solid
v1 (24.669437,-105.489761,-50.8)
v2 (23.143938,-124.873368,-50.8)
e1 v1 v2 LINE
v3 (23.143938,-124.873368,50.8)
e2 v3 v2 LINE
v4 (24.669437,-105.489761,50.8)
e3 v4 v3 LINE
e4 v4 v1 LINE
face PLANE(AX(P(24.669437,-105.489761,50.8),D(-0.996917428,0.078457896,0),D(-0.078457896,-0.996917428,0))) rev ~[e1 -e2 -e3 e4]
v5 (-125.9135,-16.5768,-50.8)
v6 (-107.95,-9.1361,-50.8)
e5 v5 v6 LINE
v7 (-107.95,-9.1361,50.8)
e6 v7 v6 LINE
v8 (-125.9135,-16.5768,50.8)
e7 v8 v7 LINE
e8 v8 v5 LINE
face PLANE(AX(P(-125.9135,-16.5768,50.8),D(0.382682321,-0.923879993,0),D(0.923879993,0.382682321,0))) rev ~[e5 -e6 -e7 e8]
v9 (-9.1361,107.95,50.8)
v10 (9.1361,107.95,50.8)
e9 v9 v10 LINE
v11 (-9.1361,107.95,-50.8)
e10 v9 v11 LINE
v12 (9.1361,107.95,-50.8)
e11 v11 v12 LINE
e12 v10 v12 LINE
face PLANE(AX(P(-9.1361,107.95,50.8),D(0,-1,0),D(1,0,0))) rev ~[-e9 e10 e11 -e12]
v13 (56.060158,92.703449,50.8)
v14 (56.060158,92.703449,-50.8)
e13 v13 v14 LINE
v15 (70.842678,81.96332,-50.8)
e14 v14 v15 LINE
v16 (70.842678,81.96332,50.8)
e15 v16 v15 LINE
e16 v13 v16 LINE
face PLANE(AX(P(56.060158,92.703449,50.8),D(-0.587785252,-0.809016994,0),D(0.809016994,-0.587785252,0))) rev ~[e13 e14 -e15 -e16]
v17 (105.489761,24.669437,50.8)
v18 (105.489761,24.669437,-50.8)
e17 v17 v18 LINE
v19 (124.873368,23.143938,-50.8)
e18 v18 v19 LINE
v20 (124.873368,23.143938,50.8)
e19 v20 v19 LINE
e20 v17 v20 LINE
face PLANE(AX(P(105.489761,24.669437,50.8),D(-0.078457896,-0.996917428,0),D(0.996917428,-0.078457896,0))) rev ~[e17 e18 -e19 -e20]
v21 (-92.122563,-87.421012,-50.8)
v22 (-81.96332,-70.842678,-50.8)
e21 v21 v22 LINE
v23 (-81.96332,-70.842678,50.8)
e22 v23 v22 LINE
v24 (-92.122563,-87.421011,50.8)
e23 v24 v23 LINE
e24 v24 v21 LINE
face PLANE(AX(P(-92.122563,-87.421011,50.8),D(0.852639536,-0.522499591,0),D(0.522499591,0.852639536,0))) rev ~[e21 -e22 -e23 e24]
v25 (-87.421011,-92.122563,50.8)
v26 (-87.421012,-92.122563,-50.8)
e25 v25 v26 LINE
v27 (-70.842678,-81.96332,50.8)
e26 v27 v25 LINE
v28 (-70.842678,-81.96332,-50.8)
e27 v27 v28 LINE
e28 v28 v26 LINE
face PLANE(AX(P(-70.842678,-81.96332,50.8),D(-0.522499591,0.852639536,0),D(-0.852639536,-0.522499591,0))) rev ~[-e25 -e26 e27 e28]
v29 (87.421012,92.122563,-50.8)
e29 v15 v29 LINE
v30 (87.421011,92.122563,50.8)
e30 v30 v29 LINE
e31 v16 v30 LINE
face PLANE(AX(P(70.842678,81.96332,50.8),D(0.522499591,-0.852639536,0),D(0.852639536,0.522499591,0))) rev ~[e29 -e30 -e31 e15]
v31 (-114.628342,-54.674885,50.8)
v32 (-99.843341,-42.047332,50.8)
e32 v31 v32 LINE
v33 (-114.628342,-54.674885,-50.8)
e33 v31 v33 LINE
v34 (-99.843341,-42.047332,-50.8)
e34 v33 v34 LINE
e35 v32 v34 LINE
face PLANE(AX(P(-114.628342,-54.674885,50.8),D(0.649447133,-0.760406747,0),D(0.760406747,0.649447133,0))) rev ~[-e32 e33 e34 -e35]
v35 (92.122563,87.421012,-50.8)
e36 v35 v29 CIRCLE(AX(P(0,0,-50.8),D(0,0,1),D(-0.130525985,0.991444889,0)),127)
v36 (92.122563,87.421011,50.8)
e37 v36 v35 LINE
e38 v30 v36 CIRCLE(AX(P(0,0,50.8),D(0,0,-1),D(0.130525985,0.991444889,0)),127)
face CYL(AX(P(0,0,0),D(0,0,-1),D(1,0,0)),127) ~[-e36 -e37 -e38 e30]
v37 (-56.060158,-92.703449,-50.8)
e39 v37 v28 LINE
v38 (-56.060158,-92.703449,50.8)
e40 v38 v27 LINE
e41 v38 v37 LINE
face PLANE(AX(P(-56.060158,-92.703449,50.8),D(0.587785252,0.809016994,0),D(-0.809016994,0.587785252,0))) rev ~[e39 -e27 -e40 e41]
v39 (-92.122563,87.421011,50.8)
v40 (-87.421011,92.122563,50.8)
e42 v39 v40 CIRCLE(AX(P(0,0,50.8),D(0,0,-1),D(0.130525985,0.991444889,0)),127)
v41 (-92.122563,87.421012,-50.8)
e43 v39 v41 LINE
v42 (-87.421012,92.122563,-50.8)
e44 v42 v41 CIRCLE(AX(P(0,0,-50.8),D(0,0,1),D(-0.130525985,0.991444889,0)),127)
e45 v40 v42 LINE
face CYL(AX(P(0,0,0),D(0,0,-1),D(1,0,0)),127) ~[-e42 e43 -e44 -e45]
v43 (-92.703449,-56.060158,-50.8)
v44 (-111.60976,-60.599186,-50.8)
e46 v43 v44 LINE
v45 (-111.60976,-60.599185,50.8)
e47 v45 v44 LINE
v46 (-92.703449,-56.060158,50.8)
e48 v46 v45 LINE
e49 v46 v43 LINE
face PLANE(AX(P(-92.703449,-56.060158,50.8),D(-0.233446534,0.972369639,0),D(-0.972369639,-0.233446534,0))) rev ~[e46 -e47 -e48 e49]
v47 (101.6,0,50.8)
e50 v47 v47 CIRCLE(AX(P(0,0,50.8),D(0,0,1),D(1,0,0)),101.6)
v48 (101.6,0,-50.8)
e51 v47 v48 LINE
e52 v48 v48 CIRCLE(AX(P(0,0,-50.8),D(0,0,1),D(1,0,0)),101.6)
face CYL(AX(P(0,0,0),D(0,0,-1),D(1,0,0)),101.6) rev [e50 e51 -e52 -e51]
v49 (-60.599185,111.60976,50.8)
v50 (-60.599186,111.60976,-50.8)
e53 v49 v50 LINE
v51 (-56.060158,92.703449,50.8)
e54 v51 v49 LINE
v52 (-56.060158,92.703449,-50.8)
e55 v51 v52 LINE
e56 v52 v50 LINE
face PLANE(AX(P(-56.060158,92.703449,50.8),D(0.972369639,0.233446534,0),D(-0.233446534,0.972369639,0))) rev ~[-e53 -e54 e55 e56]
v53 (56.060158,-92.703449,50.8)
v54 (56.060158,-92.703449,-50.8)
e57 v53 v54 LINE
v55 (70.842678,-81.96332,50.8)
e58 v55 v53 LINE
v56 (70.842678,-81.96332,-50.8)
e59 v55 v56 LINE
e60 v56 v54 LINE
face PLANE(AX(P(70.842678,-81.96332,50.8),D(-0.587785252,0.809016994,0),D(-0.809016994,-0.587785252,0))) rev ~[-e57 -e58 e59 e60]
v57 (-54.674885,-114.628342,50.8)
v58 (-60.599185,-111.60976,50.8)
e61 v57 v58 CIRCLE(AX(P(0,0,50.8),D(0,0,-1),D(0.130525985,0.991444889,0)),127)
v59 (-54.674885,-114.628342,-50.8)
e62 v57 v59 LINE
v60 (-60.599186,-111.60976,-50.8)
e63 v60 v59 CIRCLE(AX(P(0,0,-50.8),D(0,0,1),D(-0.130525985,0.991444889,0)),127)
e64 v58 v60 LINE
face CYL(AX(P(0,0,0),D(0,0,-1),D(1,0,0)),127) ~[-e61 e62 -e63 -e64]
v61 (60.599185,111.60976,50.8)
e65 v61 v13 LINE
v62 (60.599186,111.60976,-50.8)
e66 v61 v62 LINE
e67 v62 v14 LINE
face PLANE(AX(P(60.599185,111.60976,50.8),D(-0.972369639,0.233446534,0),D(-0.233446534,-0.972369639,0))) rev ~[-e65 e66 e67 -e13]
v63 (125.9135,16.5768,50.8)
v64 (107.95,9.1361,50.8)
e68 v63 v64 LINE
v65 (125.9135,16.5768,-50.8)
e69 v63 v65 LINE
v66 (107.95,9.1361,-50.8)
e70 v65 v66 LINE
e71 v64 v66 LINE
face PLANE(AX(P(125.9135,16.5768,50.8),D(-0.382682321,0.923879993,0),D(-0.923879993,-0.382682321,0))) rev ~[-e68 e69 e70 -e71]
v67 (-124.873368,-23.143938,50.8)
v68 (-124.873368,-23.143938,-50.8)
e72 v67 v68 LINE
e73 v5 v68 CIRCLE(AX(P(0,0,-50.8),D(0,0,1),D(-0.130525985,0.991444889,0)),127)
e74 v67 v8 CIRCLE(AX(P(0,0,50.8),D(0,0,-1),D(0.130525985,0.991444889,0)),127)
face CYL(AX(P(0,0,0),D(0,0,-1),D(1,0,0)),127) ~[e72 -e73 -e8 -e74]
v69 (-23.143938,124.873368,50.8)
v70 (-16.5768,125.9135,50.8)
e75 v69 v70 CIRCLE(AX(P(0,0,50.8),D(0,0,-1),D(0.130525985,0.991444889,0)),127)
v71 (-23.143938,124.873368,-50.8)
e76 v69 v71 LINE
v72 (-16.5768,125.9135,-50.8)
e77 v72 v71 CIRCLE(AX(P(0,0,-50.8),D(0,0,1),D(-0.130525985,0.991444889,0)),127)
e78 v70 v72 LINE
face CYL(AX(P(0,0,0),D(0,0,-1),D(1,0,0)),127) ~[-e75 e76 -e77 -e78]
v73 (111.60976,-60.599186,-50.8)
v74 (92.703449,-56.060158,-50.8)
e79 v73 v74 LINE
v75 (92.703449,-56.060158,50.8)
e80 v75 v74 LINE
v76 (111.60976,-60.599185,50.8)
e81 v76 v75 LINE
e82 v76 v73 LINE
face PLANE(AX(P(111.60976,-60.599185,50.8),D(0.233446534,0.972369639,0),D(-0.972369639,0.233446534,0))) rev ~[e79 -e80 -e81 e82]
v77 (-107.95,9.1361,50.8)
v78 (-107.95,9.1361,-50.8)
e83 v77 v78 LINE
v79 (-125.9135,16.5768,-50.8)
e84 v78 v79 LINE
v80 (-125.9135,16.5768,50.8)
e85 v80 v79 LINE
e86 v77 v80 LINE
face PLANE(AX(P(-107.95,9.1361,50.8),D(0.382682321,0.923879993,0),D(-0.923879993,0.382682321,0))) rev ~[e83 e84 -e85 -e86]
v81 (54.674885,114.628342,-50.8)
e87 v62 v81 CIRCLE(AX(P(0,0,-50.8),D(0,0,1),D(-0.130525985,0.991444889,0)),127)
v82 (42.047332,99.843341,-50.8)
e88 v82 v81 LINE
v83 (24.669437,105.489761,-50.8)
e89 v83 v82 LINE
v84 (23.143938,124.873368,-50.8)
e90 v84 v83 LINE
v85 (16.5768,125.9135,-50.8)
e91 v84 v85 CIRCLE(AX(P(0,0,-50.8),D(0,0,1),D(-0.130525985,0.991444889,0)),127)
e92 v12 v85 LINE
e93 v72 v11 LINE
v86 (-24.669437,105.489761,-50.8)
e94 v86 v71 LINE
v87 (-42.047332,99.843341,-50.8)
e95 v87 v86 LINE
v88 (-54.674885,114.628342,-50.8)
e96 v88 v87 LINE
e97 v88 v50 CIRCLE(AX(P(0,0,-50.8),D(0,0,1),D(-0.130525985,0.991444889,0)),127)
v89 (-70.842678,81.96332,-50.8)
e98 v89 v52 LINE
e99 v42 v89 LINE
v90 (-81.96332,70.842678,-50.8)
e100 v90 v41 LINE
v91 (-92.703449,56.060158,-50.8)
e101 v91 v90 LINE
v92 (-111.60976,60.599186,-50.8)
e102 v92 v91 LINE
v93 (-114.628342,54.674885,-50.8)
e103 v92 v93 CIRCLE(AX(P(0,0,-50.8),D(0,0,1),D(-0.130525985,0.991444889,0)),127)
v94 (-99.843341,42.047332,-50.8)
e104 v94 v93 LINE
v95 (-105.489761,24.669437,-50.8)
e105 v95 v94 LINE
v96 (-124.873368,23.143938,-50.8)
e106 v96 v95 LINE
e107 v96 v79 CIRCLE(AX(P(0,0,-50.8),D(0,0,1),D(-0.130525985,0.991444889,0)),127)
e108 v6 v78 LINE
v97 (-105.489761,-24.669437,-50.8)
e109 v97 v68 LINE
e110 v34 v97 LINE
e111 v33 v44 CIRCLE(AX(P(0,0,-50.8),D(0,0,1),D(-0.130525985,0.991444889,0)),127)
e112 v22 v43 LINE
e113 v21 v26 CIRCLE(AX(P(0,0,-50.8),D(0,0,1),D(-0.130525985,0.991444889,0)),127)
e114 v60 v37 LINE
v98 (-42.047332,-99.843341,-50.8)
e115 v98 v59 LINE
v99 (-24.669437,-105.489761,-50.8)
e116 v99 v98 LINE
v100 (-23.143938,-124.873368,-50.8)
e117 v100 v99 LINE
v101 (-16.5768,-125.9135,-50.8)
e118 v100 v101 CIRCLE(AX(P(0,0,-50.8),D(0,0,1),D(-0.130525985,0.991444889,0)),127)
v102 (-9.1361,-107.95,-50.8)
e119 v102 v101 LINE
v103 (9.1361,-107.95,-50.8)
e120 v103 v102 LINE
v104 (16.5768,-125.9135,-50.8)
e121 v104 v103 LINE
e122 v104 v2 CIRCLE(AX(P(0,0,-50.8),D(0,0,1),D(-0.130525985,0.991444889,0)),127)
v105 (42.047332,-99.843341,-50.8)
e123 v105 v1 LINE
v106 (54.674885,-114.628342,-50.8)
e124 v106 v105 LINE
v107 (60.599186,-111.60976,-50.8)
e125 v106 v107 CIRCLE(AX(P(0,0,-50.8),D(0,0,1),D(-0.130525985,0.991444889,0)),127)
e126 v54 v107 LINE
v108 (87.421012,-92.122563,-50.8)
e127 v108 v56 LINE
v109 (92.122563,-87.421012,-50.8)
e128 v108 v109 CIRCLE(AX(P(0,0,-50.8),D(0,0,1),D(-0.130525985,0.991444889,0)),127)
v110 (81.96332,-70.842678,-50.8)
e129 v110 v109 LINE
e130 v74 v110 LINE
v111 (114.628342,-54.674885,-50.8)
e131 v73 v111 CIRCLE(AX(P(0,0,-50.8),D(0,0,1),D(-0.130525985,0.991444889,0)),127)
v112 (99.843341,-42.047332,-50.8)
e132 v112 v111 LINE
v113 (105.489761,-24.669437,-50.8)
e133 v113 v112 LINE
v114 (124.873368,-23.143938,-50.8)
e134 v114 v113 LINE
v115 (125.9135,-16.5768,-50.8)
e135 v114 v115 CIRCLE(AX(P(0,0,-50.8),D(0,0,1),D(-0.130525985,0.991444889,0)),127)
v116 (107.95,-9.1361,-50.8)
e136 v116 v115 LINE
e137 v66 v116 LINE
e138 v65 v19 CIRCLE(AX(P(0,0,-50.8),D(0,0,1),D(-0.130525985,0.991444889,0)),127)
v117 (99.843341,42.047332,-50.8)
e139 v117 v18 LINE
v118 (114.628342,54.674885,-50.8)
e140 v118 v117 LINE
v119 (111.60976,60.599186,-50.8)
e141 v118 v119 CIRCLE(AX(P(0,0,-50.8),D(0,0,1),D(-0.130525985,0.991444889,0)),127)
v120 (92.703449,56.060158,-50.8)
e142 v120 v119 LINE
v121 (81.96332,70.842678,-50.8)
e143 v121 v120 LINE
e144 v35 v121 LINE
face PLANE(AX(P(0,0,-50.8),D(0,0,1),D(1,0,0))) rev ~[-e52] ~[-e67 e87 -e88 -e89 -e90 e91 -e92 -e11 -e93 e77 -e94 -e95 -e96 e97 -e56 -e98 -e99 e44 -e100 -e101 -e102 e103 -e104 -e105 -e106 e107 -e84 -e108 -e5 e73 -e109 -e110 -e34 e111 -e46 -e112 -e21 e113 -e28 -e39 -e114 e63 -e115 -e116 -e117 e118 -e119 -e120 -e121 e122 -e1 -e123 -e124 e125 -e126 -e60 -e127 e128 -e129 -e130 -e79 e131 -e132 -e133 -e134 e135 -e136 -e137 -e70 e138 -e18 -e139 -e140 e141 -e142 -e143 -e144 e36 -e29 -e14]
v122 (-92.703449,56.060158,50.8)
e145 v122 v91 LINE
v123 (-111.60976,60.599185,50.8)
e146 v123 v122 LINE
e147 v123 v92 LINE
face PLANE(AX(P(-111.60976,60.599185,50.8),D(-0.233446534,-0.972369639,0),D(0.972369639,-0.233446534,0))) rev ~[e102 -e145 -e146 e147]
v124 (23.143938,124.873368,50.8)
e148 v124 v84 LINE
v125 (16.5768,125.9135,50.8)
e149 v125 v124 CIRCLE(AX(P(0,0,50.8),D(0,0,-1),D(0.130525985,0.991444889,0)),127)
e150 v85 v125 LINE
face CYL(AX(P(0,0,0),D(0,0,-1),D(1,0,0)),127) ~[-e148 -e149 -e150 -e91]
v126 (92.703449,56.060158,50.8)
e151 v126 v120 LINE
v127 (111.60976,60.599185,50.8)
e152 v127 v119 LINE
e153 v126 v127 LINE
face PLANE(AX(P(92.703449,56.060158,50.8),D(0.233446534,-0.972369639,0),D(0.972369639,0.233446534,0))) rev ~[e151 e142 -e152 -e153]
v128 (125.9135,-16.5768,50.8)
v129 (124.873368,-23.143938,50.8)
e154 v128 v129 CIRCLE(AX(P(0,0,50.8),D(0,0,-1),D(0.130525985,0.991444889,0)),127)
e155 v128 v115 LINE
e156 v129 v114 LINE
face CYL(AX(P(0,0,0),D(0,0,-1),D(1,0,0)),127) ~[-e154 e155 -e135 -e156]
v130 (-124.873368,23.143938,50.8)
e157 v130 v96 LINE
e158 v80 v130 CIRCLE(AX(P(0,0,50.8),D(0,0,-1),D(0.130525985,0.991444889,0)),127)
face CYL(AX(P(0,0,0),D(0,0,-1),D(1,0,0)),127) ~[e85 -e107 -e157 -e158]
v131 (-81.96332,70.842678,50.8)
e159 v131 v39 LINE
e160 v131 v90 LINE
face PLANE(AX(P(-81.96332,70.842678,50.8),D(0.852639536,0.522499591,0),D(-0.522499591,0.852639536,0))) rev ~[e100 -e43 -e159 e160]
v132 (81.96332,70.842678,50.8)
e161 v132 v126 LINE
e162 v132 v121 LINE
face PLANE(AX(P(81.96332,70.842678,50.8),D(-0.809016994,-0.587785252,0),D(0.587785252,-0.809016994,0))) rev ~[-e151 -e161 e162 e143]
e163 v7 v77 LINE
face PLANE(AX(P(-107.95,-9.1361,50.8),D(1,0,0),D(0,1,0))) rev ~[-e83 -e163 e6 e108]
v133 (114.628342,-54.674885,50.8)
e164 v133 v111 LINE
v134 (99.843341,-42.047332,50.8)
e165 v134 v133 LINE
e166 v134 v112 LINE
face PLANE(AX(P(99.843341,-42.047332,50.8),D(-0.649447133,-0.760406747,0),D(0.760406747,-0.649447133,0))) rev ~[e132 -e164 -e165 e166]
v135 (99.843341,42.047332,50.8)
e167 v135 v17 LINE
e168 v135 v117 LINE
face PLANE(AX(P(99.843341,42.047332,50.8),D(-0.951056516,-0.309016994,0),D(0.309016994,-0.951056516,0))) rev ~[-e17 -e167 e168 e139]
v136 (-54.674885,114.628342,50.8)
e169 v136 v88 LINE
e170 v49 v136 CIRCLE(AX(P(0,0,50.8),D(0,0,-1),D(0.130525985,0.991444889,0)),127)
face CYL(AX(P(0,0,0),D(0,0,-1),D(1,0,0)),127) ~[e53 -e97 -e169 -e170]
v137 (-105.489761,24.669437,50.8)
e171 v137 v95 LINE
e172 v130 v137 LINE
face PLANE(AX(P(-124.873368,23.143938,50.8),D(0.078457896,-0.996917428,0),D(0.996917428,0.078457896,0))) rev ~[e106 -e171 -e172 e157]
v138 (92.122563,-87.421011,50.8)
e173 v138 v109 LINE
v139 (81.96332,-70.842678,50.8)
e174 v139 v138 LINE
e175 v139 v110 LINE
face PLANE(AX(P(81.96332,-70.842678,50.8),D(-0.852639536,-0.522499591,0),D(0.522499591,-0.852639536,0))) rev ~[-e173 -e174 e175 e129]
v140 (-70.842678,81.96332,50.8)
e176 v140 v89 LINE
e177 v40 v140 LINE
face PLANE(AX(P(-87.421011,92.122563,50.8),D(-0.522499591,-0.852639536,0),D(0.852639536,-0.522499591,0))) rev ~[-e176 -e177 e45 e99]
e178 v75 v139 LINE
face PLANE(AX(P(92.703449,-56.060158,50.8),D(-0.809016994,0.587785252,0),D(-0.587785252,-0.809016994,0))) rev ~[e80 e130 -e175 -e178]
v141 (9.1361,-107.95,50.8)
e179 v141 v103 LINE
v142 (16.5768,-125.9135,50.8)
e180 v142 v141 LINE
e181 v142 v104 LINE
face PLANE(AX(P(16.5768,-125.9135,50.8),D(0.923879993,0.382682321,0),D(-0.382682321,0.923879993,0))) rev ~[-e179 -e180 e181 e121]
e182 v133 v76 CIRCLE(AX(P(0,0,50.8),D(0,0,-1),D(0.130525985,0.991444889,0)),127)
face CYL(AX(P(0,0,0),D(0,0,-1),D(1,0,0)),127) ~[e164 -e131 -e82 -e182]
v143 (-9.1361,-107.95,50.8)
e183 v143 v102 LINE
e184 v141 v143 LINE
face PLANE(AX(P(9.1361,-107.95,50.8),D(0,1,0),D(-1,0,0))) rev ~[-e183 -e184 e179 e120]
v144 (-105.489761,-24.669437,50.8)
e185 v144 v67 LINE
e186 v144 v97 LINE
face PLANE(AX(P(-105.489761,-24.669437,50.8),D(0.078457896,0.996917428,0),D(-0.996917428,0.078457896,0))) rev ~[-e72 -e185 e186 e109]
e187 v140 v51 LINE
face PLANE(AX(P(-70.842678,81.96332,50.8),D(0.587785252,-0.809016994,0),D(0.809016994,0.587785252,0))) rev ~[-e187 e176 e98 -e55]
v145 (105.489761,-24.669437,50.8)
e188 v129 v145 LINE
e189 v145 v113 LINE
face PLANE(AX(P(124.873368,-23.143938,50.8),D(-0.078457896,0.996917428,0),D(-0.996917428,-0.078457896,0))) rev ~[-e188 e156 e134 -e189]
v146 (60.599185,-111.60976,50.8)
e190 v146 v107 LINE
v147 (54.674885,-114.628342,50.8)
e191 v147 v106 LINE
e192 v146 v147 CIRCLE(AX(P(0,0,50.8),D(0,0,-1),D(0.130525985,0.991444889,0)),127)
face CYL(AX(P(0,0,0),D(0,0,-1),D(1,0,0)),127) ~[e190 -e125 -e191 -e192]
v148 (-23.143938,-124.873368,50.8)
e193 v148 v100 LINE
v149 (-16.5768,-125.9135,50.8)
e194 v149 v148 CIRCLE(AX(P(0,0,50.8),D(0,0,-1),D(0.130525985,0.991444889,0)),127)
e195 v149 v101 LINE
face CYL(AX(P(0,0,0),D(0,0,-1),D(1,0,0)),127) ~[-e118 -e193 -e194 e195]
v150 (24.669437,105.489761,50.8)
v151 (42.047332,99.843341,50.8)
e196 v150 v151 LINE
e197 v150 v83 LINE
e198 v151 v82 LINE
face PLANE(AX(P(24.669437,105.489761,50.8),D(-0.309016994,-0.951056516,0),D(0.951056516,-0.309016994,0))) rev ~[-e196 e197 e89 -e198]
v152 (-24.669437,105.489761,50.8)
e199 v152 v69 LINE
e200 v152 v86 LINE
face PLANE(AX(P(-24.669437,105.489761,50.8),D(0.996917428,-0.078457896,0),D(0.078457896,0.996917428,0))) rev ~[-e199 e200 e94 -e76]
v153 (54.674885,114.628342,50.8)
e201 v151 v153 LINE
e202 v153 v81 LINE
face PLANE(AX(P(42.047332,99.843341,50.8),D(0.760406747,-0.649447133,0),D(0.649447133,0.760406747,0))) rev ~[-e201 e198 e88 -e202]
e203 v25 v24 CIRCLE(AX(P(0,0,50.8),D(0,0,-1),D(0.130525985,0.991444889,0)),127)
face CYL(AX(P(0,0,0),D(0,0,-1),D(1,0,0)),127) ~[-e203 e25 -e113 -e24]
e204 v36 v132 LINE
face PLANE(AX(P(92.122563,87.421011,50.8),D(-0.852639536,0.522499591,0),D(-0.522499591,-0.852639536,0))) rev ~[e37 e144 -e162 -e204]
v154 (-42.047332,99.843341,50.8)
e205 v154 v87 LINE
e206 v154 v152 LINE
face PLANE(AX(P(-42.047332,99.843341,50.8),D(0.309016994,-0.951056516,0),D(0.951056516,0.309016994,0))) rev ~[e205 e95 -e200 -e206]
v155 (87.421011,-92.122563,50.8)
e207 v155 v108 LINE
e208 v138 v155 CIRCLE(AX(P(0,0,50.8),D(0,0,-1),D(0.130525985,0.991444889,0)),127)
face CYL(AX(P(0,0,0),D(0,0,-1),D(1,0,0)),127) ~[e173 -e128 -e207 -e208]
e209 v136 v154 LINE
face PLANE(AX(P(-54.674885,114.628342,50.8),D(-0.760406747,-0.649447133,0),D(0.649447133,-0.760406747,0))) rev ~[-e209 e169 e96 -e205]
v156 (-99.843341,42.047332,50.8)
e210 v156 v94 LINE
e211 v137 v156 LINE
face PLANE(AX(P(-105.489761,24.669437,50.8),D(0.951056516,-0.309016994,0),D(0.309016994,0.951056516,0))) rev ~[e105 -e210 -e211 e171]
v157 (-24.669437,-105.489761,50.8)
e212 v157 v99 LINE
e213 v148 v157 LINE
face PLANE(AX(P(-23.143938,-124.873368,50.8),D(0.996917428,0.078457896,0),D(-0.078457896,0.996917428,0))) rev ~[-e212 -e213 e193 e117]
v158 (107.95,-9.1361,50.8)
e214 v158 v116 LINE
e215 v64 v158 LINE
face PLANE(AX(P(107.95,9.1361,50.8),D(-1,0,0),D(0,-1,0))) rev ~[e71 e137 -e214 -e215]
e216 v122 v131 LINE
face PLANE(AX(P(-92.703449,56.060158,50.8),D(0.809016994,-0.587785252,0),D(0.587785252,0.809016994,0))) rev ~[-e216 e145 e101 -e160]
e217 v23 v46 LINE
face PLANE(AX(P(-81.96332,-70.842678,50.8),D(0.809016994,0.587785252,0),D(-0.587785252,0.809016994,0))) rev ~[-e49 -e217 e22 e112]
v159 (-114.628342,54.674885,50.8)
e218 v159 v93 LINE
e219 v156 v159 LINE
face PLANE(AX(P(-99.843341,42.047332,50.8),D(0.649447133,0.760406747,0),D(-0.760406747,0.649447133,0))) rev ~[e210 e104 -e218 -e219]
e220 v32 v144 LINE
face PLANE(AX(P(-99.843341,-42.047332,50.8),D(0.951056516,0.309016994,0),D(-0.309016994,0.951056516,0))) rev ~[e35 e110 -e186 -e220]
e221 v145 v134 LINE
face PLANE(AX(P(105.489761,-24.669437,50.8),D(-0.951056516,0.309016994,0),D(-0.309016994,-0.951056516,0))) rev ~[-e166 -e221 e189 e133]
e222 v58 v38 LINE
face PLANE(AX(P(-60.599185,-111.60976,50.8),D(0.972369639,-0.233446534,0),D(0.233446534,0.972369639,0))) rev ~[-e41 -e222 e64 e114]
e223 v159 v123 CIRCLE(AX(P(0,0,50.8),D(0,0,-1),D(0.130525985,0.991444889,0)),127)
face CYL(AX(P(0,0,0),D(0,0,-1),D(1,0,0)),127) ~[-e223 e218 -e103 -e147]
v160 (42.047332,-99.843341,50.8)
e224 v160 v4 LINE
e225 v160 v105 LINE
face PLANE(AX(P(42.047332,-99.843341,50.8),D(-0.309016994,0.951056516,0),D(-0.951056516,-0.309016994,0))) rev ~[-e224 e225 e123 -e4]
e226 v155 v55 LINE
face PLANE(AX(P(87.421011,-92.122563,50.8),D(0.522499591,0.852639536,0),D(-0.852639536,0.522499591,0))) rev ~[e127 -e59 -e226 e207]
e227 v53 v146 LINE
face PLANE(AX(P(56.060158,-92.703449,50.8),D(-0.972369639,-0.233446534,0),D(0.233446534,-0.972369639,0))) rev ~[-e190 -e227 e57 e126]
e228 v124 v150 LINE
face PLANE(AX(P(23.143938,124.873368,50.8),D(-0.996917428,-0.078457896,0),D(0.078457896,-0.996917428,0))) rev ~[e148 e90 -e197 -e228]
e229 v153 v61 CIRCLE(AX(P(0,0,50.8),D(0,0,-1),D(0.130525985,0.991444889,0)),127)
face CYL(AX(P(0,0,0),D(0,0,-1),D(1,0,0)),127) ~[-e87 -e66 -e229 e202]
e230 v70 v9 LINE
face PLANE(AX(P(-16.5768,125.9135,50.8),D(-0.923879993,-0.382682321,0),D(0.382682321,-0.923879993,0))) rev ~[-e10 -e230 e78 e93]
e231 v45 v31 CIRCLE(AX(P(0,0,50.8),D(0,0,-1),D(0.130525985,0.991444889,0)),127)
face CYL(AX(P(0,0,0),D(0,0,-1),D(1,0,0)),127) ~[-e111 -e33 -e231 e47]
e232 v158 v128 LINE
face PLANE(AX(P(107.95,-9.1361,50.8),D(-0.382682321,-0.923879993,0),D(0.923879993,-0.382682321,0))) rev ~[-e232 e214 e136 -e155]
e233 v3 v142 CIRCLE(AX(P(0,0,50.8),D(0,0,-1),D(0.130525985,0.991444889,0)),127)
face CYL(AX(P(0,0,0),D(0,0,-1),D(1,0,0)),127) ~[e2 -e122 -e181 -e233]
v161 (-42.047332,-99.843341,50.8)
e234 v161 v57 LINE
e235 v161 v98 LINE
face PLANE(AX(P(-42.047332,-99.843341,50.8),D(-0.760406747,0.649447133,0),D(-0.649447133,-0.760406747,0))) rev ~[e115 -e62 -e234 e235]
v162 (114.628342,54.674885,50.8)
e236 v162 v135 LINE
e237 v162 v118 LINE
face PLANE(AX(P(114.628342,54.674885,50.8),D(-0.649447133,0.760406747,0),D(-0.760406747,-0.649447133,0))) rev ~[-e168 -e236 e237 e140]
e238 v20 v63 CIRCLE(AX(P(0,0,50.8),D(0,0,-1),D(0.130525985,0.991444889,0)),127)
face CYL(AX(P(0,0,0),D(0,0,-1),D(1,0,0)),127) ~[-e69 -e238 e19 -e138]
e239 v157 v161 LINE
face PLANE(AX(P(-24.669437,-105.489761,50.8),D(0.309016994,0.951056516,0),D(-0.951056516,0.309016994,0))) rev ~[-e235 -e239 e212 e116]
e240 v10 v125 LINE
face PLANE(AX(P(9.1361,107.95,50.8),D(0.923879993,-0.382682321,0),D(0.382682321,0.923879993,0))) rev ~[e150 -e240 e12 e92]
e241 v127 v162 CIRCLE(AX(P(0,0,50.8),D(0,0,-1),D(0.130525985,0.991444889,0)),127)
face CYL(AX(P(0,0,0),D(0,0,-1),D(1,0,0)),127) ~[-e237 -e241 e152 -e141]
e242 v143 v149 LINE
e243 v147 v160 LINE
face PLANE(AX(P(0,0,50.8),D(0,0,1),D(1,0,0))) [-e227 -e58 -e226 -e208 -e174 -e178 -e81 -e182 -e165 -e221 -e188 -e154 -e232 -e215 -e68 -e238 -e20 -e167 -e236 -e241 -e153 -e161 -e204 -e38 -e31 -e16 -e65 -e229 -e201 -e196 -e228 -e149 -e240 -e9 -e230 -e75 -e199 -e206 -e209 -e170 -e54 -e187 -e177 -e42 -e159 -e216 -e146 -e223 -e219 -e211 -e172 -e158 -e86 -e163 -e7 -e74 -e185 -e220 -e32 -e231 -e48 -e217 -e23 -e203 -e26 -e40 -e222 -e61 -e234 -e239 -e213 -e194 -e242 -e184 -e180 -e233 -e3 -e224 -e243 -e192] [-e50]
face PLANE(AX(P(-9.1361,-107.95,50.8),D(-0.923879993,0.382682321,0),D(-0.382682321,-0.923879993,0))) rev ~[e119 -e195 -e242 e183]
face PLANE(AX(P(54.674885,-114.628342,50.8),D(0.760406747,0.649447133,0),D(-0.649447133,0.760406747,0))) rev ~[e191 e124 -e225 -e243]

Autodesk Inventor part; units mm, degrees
ref_plane "YZ Plane" through (0, 0, 0) normal (1, 0, 0) x (0, 1, 0)
ref_plane "XZ Plane" through (0, 0, 0) normal (0, 1, 0) x (-1, 0, 0)
ref_plane "XY Plane" through (0, 0, 0) normal (0, 0, 1) x (1, 0, 0)
sketch "Sketch1" plane through (0, 0, 0) normal (0, 0, 1) x (1, 0, 0)
  circle A0 centre (0, 0) radius 101.6
  circle A1 centre (0, 0) radius 127
  dimension "d0" = 203.2
  dimension "d1" = 25.4
extrude "Extrusion1" add sketch "Sketch1" along normal mid plane 101.6
sketch "Sketch2" plane through (0, 0, 50.8) normal (0, 0, 1) x (1, 0, 0)
  circle A0 centre (0, 0) radius 127 projected
  line L0 (-16.5768, 125.9135) -> (-9.1361, 107.95)
  line L1 (-9.1361, 107.95) -> (9.1361, 107.95)
  line L2 (9.1361, 107.95) -> (16.5768, 125.9135)
  line L3 (0, 107.95) -> (0, 128.4311) construction
  line L4 (-16.5768, 125.9135) -> (0, 0) construction
  line L5 (0, 0) -> (16.5768, 125.9135) construction
  arc A1 (16.5768, 125.9135) -> (-16.5768, 125.9135) centre (0, 0) ccw
  dimension "d4" = 19.05
  dimension "d5" = 45
  dimension "d6" = 15
extrude "Extrusion2" cut sketch "Sketch2" against normal through all contours L2 L1 L0 A0 picked at (-1.8466, 114.2597)
pattern_circular "Circular Pattern1" count 20 over 360 about axis through (0, 0, 0) along (0, 0, 1) of "Extrusion2"
properties part number "NASA-20-TRD-01" material "PET Plastic"
